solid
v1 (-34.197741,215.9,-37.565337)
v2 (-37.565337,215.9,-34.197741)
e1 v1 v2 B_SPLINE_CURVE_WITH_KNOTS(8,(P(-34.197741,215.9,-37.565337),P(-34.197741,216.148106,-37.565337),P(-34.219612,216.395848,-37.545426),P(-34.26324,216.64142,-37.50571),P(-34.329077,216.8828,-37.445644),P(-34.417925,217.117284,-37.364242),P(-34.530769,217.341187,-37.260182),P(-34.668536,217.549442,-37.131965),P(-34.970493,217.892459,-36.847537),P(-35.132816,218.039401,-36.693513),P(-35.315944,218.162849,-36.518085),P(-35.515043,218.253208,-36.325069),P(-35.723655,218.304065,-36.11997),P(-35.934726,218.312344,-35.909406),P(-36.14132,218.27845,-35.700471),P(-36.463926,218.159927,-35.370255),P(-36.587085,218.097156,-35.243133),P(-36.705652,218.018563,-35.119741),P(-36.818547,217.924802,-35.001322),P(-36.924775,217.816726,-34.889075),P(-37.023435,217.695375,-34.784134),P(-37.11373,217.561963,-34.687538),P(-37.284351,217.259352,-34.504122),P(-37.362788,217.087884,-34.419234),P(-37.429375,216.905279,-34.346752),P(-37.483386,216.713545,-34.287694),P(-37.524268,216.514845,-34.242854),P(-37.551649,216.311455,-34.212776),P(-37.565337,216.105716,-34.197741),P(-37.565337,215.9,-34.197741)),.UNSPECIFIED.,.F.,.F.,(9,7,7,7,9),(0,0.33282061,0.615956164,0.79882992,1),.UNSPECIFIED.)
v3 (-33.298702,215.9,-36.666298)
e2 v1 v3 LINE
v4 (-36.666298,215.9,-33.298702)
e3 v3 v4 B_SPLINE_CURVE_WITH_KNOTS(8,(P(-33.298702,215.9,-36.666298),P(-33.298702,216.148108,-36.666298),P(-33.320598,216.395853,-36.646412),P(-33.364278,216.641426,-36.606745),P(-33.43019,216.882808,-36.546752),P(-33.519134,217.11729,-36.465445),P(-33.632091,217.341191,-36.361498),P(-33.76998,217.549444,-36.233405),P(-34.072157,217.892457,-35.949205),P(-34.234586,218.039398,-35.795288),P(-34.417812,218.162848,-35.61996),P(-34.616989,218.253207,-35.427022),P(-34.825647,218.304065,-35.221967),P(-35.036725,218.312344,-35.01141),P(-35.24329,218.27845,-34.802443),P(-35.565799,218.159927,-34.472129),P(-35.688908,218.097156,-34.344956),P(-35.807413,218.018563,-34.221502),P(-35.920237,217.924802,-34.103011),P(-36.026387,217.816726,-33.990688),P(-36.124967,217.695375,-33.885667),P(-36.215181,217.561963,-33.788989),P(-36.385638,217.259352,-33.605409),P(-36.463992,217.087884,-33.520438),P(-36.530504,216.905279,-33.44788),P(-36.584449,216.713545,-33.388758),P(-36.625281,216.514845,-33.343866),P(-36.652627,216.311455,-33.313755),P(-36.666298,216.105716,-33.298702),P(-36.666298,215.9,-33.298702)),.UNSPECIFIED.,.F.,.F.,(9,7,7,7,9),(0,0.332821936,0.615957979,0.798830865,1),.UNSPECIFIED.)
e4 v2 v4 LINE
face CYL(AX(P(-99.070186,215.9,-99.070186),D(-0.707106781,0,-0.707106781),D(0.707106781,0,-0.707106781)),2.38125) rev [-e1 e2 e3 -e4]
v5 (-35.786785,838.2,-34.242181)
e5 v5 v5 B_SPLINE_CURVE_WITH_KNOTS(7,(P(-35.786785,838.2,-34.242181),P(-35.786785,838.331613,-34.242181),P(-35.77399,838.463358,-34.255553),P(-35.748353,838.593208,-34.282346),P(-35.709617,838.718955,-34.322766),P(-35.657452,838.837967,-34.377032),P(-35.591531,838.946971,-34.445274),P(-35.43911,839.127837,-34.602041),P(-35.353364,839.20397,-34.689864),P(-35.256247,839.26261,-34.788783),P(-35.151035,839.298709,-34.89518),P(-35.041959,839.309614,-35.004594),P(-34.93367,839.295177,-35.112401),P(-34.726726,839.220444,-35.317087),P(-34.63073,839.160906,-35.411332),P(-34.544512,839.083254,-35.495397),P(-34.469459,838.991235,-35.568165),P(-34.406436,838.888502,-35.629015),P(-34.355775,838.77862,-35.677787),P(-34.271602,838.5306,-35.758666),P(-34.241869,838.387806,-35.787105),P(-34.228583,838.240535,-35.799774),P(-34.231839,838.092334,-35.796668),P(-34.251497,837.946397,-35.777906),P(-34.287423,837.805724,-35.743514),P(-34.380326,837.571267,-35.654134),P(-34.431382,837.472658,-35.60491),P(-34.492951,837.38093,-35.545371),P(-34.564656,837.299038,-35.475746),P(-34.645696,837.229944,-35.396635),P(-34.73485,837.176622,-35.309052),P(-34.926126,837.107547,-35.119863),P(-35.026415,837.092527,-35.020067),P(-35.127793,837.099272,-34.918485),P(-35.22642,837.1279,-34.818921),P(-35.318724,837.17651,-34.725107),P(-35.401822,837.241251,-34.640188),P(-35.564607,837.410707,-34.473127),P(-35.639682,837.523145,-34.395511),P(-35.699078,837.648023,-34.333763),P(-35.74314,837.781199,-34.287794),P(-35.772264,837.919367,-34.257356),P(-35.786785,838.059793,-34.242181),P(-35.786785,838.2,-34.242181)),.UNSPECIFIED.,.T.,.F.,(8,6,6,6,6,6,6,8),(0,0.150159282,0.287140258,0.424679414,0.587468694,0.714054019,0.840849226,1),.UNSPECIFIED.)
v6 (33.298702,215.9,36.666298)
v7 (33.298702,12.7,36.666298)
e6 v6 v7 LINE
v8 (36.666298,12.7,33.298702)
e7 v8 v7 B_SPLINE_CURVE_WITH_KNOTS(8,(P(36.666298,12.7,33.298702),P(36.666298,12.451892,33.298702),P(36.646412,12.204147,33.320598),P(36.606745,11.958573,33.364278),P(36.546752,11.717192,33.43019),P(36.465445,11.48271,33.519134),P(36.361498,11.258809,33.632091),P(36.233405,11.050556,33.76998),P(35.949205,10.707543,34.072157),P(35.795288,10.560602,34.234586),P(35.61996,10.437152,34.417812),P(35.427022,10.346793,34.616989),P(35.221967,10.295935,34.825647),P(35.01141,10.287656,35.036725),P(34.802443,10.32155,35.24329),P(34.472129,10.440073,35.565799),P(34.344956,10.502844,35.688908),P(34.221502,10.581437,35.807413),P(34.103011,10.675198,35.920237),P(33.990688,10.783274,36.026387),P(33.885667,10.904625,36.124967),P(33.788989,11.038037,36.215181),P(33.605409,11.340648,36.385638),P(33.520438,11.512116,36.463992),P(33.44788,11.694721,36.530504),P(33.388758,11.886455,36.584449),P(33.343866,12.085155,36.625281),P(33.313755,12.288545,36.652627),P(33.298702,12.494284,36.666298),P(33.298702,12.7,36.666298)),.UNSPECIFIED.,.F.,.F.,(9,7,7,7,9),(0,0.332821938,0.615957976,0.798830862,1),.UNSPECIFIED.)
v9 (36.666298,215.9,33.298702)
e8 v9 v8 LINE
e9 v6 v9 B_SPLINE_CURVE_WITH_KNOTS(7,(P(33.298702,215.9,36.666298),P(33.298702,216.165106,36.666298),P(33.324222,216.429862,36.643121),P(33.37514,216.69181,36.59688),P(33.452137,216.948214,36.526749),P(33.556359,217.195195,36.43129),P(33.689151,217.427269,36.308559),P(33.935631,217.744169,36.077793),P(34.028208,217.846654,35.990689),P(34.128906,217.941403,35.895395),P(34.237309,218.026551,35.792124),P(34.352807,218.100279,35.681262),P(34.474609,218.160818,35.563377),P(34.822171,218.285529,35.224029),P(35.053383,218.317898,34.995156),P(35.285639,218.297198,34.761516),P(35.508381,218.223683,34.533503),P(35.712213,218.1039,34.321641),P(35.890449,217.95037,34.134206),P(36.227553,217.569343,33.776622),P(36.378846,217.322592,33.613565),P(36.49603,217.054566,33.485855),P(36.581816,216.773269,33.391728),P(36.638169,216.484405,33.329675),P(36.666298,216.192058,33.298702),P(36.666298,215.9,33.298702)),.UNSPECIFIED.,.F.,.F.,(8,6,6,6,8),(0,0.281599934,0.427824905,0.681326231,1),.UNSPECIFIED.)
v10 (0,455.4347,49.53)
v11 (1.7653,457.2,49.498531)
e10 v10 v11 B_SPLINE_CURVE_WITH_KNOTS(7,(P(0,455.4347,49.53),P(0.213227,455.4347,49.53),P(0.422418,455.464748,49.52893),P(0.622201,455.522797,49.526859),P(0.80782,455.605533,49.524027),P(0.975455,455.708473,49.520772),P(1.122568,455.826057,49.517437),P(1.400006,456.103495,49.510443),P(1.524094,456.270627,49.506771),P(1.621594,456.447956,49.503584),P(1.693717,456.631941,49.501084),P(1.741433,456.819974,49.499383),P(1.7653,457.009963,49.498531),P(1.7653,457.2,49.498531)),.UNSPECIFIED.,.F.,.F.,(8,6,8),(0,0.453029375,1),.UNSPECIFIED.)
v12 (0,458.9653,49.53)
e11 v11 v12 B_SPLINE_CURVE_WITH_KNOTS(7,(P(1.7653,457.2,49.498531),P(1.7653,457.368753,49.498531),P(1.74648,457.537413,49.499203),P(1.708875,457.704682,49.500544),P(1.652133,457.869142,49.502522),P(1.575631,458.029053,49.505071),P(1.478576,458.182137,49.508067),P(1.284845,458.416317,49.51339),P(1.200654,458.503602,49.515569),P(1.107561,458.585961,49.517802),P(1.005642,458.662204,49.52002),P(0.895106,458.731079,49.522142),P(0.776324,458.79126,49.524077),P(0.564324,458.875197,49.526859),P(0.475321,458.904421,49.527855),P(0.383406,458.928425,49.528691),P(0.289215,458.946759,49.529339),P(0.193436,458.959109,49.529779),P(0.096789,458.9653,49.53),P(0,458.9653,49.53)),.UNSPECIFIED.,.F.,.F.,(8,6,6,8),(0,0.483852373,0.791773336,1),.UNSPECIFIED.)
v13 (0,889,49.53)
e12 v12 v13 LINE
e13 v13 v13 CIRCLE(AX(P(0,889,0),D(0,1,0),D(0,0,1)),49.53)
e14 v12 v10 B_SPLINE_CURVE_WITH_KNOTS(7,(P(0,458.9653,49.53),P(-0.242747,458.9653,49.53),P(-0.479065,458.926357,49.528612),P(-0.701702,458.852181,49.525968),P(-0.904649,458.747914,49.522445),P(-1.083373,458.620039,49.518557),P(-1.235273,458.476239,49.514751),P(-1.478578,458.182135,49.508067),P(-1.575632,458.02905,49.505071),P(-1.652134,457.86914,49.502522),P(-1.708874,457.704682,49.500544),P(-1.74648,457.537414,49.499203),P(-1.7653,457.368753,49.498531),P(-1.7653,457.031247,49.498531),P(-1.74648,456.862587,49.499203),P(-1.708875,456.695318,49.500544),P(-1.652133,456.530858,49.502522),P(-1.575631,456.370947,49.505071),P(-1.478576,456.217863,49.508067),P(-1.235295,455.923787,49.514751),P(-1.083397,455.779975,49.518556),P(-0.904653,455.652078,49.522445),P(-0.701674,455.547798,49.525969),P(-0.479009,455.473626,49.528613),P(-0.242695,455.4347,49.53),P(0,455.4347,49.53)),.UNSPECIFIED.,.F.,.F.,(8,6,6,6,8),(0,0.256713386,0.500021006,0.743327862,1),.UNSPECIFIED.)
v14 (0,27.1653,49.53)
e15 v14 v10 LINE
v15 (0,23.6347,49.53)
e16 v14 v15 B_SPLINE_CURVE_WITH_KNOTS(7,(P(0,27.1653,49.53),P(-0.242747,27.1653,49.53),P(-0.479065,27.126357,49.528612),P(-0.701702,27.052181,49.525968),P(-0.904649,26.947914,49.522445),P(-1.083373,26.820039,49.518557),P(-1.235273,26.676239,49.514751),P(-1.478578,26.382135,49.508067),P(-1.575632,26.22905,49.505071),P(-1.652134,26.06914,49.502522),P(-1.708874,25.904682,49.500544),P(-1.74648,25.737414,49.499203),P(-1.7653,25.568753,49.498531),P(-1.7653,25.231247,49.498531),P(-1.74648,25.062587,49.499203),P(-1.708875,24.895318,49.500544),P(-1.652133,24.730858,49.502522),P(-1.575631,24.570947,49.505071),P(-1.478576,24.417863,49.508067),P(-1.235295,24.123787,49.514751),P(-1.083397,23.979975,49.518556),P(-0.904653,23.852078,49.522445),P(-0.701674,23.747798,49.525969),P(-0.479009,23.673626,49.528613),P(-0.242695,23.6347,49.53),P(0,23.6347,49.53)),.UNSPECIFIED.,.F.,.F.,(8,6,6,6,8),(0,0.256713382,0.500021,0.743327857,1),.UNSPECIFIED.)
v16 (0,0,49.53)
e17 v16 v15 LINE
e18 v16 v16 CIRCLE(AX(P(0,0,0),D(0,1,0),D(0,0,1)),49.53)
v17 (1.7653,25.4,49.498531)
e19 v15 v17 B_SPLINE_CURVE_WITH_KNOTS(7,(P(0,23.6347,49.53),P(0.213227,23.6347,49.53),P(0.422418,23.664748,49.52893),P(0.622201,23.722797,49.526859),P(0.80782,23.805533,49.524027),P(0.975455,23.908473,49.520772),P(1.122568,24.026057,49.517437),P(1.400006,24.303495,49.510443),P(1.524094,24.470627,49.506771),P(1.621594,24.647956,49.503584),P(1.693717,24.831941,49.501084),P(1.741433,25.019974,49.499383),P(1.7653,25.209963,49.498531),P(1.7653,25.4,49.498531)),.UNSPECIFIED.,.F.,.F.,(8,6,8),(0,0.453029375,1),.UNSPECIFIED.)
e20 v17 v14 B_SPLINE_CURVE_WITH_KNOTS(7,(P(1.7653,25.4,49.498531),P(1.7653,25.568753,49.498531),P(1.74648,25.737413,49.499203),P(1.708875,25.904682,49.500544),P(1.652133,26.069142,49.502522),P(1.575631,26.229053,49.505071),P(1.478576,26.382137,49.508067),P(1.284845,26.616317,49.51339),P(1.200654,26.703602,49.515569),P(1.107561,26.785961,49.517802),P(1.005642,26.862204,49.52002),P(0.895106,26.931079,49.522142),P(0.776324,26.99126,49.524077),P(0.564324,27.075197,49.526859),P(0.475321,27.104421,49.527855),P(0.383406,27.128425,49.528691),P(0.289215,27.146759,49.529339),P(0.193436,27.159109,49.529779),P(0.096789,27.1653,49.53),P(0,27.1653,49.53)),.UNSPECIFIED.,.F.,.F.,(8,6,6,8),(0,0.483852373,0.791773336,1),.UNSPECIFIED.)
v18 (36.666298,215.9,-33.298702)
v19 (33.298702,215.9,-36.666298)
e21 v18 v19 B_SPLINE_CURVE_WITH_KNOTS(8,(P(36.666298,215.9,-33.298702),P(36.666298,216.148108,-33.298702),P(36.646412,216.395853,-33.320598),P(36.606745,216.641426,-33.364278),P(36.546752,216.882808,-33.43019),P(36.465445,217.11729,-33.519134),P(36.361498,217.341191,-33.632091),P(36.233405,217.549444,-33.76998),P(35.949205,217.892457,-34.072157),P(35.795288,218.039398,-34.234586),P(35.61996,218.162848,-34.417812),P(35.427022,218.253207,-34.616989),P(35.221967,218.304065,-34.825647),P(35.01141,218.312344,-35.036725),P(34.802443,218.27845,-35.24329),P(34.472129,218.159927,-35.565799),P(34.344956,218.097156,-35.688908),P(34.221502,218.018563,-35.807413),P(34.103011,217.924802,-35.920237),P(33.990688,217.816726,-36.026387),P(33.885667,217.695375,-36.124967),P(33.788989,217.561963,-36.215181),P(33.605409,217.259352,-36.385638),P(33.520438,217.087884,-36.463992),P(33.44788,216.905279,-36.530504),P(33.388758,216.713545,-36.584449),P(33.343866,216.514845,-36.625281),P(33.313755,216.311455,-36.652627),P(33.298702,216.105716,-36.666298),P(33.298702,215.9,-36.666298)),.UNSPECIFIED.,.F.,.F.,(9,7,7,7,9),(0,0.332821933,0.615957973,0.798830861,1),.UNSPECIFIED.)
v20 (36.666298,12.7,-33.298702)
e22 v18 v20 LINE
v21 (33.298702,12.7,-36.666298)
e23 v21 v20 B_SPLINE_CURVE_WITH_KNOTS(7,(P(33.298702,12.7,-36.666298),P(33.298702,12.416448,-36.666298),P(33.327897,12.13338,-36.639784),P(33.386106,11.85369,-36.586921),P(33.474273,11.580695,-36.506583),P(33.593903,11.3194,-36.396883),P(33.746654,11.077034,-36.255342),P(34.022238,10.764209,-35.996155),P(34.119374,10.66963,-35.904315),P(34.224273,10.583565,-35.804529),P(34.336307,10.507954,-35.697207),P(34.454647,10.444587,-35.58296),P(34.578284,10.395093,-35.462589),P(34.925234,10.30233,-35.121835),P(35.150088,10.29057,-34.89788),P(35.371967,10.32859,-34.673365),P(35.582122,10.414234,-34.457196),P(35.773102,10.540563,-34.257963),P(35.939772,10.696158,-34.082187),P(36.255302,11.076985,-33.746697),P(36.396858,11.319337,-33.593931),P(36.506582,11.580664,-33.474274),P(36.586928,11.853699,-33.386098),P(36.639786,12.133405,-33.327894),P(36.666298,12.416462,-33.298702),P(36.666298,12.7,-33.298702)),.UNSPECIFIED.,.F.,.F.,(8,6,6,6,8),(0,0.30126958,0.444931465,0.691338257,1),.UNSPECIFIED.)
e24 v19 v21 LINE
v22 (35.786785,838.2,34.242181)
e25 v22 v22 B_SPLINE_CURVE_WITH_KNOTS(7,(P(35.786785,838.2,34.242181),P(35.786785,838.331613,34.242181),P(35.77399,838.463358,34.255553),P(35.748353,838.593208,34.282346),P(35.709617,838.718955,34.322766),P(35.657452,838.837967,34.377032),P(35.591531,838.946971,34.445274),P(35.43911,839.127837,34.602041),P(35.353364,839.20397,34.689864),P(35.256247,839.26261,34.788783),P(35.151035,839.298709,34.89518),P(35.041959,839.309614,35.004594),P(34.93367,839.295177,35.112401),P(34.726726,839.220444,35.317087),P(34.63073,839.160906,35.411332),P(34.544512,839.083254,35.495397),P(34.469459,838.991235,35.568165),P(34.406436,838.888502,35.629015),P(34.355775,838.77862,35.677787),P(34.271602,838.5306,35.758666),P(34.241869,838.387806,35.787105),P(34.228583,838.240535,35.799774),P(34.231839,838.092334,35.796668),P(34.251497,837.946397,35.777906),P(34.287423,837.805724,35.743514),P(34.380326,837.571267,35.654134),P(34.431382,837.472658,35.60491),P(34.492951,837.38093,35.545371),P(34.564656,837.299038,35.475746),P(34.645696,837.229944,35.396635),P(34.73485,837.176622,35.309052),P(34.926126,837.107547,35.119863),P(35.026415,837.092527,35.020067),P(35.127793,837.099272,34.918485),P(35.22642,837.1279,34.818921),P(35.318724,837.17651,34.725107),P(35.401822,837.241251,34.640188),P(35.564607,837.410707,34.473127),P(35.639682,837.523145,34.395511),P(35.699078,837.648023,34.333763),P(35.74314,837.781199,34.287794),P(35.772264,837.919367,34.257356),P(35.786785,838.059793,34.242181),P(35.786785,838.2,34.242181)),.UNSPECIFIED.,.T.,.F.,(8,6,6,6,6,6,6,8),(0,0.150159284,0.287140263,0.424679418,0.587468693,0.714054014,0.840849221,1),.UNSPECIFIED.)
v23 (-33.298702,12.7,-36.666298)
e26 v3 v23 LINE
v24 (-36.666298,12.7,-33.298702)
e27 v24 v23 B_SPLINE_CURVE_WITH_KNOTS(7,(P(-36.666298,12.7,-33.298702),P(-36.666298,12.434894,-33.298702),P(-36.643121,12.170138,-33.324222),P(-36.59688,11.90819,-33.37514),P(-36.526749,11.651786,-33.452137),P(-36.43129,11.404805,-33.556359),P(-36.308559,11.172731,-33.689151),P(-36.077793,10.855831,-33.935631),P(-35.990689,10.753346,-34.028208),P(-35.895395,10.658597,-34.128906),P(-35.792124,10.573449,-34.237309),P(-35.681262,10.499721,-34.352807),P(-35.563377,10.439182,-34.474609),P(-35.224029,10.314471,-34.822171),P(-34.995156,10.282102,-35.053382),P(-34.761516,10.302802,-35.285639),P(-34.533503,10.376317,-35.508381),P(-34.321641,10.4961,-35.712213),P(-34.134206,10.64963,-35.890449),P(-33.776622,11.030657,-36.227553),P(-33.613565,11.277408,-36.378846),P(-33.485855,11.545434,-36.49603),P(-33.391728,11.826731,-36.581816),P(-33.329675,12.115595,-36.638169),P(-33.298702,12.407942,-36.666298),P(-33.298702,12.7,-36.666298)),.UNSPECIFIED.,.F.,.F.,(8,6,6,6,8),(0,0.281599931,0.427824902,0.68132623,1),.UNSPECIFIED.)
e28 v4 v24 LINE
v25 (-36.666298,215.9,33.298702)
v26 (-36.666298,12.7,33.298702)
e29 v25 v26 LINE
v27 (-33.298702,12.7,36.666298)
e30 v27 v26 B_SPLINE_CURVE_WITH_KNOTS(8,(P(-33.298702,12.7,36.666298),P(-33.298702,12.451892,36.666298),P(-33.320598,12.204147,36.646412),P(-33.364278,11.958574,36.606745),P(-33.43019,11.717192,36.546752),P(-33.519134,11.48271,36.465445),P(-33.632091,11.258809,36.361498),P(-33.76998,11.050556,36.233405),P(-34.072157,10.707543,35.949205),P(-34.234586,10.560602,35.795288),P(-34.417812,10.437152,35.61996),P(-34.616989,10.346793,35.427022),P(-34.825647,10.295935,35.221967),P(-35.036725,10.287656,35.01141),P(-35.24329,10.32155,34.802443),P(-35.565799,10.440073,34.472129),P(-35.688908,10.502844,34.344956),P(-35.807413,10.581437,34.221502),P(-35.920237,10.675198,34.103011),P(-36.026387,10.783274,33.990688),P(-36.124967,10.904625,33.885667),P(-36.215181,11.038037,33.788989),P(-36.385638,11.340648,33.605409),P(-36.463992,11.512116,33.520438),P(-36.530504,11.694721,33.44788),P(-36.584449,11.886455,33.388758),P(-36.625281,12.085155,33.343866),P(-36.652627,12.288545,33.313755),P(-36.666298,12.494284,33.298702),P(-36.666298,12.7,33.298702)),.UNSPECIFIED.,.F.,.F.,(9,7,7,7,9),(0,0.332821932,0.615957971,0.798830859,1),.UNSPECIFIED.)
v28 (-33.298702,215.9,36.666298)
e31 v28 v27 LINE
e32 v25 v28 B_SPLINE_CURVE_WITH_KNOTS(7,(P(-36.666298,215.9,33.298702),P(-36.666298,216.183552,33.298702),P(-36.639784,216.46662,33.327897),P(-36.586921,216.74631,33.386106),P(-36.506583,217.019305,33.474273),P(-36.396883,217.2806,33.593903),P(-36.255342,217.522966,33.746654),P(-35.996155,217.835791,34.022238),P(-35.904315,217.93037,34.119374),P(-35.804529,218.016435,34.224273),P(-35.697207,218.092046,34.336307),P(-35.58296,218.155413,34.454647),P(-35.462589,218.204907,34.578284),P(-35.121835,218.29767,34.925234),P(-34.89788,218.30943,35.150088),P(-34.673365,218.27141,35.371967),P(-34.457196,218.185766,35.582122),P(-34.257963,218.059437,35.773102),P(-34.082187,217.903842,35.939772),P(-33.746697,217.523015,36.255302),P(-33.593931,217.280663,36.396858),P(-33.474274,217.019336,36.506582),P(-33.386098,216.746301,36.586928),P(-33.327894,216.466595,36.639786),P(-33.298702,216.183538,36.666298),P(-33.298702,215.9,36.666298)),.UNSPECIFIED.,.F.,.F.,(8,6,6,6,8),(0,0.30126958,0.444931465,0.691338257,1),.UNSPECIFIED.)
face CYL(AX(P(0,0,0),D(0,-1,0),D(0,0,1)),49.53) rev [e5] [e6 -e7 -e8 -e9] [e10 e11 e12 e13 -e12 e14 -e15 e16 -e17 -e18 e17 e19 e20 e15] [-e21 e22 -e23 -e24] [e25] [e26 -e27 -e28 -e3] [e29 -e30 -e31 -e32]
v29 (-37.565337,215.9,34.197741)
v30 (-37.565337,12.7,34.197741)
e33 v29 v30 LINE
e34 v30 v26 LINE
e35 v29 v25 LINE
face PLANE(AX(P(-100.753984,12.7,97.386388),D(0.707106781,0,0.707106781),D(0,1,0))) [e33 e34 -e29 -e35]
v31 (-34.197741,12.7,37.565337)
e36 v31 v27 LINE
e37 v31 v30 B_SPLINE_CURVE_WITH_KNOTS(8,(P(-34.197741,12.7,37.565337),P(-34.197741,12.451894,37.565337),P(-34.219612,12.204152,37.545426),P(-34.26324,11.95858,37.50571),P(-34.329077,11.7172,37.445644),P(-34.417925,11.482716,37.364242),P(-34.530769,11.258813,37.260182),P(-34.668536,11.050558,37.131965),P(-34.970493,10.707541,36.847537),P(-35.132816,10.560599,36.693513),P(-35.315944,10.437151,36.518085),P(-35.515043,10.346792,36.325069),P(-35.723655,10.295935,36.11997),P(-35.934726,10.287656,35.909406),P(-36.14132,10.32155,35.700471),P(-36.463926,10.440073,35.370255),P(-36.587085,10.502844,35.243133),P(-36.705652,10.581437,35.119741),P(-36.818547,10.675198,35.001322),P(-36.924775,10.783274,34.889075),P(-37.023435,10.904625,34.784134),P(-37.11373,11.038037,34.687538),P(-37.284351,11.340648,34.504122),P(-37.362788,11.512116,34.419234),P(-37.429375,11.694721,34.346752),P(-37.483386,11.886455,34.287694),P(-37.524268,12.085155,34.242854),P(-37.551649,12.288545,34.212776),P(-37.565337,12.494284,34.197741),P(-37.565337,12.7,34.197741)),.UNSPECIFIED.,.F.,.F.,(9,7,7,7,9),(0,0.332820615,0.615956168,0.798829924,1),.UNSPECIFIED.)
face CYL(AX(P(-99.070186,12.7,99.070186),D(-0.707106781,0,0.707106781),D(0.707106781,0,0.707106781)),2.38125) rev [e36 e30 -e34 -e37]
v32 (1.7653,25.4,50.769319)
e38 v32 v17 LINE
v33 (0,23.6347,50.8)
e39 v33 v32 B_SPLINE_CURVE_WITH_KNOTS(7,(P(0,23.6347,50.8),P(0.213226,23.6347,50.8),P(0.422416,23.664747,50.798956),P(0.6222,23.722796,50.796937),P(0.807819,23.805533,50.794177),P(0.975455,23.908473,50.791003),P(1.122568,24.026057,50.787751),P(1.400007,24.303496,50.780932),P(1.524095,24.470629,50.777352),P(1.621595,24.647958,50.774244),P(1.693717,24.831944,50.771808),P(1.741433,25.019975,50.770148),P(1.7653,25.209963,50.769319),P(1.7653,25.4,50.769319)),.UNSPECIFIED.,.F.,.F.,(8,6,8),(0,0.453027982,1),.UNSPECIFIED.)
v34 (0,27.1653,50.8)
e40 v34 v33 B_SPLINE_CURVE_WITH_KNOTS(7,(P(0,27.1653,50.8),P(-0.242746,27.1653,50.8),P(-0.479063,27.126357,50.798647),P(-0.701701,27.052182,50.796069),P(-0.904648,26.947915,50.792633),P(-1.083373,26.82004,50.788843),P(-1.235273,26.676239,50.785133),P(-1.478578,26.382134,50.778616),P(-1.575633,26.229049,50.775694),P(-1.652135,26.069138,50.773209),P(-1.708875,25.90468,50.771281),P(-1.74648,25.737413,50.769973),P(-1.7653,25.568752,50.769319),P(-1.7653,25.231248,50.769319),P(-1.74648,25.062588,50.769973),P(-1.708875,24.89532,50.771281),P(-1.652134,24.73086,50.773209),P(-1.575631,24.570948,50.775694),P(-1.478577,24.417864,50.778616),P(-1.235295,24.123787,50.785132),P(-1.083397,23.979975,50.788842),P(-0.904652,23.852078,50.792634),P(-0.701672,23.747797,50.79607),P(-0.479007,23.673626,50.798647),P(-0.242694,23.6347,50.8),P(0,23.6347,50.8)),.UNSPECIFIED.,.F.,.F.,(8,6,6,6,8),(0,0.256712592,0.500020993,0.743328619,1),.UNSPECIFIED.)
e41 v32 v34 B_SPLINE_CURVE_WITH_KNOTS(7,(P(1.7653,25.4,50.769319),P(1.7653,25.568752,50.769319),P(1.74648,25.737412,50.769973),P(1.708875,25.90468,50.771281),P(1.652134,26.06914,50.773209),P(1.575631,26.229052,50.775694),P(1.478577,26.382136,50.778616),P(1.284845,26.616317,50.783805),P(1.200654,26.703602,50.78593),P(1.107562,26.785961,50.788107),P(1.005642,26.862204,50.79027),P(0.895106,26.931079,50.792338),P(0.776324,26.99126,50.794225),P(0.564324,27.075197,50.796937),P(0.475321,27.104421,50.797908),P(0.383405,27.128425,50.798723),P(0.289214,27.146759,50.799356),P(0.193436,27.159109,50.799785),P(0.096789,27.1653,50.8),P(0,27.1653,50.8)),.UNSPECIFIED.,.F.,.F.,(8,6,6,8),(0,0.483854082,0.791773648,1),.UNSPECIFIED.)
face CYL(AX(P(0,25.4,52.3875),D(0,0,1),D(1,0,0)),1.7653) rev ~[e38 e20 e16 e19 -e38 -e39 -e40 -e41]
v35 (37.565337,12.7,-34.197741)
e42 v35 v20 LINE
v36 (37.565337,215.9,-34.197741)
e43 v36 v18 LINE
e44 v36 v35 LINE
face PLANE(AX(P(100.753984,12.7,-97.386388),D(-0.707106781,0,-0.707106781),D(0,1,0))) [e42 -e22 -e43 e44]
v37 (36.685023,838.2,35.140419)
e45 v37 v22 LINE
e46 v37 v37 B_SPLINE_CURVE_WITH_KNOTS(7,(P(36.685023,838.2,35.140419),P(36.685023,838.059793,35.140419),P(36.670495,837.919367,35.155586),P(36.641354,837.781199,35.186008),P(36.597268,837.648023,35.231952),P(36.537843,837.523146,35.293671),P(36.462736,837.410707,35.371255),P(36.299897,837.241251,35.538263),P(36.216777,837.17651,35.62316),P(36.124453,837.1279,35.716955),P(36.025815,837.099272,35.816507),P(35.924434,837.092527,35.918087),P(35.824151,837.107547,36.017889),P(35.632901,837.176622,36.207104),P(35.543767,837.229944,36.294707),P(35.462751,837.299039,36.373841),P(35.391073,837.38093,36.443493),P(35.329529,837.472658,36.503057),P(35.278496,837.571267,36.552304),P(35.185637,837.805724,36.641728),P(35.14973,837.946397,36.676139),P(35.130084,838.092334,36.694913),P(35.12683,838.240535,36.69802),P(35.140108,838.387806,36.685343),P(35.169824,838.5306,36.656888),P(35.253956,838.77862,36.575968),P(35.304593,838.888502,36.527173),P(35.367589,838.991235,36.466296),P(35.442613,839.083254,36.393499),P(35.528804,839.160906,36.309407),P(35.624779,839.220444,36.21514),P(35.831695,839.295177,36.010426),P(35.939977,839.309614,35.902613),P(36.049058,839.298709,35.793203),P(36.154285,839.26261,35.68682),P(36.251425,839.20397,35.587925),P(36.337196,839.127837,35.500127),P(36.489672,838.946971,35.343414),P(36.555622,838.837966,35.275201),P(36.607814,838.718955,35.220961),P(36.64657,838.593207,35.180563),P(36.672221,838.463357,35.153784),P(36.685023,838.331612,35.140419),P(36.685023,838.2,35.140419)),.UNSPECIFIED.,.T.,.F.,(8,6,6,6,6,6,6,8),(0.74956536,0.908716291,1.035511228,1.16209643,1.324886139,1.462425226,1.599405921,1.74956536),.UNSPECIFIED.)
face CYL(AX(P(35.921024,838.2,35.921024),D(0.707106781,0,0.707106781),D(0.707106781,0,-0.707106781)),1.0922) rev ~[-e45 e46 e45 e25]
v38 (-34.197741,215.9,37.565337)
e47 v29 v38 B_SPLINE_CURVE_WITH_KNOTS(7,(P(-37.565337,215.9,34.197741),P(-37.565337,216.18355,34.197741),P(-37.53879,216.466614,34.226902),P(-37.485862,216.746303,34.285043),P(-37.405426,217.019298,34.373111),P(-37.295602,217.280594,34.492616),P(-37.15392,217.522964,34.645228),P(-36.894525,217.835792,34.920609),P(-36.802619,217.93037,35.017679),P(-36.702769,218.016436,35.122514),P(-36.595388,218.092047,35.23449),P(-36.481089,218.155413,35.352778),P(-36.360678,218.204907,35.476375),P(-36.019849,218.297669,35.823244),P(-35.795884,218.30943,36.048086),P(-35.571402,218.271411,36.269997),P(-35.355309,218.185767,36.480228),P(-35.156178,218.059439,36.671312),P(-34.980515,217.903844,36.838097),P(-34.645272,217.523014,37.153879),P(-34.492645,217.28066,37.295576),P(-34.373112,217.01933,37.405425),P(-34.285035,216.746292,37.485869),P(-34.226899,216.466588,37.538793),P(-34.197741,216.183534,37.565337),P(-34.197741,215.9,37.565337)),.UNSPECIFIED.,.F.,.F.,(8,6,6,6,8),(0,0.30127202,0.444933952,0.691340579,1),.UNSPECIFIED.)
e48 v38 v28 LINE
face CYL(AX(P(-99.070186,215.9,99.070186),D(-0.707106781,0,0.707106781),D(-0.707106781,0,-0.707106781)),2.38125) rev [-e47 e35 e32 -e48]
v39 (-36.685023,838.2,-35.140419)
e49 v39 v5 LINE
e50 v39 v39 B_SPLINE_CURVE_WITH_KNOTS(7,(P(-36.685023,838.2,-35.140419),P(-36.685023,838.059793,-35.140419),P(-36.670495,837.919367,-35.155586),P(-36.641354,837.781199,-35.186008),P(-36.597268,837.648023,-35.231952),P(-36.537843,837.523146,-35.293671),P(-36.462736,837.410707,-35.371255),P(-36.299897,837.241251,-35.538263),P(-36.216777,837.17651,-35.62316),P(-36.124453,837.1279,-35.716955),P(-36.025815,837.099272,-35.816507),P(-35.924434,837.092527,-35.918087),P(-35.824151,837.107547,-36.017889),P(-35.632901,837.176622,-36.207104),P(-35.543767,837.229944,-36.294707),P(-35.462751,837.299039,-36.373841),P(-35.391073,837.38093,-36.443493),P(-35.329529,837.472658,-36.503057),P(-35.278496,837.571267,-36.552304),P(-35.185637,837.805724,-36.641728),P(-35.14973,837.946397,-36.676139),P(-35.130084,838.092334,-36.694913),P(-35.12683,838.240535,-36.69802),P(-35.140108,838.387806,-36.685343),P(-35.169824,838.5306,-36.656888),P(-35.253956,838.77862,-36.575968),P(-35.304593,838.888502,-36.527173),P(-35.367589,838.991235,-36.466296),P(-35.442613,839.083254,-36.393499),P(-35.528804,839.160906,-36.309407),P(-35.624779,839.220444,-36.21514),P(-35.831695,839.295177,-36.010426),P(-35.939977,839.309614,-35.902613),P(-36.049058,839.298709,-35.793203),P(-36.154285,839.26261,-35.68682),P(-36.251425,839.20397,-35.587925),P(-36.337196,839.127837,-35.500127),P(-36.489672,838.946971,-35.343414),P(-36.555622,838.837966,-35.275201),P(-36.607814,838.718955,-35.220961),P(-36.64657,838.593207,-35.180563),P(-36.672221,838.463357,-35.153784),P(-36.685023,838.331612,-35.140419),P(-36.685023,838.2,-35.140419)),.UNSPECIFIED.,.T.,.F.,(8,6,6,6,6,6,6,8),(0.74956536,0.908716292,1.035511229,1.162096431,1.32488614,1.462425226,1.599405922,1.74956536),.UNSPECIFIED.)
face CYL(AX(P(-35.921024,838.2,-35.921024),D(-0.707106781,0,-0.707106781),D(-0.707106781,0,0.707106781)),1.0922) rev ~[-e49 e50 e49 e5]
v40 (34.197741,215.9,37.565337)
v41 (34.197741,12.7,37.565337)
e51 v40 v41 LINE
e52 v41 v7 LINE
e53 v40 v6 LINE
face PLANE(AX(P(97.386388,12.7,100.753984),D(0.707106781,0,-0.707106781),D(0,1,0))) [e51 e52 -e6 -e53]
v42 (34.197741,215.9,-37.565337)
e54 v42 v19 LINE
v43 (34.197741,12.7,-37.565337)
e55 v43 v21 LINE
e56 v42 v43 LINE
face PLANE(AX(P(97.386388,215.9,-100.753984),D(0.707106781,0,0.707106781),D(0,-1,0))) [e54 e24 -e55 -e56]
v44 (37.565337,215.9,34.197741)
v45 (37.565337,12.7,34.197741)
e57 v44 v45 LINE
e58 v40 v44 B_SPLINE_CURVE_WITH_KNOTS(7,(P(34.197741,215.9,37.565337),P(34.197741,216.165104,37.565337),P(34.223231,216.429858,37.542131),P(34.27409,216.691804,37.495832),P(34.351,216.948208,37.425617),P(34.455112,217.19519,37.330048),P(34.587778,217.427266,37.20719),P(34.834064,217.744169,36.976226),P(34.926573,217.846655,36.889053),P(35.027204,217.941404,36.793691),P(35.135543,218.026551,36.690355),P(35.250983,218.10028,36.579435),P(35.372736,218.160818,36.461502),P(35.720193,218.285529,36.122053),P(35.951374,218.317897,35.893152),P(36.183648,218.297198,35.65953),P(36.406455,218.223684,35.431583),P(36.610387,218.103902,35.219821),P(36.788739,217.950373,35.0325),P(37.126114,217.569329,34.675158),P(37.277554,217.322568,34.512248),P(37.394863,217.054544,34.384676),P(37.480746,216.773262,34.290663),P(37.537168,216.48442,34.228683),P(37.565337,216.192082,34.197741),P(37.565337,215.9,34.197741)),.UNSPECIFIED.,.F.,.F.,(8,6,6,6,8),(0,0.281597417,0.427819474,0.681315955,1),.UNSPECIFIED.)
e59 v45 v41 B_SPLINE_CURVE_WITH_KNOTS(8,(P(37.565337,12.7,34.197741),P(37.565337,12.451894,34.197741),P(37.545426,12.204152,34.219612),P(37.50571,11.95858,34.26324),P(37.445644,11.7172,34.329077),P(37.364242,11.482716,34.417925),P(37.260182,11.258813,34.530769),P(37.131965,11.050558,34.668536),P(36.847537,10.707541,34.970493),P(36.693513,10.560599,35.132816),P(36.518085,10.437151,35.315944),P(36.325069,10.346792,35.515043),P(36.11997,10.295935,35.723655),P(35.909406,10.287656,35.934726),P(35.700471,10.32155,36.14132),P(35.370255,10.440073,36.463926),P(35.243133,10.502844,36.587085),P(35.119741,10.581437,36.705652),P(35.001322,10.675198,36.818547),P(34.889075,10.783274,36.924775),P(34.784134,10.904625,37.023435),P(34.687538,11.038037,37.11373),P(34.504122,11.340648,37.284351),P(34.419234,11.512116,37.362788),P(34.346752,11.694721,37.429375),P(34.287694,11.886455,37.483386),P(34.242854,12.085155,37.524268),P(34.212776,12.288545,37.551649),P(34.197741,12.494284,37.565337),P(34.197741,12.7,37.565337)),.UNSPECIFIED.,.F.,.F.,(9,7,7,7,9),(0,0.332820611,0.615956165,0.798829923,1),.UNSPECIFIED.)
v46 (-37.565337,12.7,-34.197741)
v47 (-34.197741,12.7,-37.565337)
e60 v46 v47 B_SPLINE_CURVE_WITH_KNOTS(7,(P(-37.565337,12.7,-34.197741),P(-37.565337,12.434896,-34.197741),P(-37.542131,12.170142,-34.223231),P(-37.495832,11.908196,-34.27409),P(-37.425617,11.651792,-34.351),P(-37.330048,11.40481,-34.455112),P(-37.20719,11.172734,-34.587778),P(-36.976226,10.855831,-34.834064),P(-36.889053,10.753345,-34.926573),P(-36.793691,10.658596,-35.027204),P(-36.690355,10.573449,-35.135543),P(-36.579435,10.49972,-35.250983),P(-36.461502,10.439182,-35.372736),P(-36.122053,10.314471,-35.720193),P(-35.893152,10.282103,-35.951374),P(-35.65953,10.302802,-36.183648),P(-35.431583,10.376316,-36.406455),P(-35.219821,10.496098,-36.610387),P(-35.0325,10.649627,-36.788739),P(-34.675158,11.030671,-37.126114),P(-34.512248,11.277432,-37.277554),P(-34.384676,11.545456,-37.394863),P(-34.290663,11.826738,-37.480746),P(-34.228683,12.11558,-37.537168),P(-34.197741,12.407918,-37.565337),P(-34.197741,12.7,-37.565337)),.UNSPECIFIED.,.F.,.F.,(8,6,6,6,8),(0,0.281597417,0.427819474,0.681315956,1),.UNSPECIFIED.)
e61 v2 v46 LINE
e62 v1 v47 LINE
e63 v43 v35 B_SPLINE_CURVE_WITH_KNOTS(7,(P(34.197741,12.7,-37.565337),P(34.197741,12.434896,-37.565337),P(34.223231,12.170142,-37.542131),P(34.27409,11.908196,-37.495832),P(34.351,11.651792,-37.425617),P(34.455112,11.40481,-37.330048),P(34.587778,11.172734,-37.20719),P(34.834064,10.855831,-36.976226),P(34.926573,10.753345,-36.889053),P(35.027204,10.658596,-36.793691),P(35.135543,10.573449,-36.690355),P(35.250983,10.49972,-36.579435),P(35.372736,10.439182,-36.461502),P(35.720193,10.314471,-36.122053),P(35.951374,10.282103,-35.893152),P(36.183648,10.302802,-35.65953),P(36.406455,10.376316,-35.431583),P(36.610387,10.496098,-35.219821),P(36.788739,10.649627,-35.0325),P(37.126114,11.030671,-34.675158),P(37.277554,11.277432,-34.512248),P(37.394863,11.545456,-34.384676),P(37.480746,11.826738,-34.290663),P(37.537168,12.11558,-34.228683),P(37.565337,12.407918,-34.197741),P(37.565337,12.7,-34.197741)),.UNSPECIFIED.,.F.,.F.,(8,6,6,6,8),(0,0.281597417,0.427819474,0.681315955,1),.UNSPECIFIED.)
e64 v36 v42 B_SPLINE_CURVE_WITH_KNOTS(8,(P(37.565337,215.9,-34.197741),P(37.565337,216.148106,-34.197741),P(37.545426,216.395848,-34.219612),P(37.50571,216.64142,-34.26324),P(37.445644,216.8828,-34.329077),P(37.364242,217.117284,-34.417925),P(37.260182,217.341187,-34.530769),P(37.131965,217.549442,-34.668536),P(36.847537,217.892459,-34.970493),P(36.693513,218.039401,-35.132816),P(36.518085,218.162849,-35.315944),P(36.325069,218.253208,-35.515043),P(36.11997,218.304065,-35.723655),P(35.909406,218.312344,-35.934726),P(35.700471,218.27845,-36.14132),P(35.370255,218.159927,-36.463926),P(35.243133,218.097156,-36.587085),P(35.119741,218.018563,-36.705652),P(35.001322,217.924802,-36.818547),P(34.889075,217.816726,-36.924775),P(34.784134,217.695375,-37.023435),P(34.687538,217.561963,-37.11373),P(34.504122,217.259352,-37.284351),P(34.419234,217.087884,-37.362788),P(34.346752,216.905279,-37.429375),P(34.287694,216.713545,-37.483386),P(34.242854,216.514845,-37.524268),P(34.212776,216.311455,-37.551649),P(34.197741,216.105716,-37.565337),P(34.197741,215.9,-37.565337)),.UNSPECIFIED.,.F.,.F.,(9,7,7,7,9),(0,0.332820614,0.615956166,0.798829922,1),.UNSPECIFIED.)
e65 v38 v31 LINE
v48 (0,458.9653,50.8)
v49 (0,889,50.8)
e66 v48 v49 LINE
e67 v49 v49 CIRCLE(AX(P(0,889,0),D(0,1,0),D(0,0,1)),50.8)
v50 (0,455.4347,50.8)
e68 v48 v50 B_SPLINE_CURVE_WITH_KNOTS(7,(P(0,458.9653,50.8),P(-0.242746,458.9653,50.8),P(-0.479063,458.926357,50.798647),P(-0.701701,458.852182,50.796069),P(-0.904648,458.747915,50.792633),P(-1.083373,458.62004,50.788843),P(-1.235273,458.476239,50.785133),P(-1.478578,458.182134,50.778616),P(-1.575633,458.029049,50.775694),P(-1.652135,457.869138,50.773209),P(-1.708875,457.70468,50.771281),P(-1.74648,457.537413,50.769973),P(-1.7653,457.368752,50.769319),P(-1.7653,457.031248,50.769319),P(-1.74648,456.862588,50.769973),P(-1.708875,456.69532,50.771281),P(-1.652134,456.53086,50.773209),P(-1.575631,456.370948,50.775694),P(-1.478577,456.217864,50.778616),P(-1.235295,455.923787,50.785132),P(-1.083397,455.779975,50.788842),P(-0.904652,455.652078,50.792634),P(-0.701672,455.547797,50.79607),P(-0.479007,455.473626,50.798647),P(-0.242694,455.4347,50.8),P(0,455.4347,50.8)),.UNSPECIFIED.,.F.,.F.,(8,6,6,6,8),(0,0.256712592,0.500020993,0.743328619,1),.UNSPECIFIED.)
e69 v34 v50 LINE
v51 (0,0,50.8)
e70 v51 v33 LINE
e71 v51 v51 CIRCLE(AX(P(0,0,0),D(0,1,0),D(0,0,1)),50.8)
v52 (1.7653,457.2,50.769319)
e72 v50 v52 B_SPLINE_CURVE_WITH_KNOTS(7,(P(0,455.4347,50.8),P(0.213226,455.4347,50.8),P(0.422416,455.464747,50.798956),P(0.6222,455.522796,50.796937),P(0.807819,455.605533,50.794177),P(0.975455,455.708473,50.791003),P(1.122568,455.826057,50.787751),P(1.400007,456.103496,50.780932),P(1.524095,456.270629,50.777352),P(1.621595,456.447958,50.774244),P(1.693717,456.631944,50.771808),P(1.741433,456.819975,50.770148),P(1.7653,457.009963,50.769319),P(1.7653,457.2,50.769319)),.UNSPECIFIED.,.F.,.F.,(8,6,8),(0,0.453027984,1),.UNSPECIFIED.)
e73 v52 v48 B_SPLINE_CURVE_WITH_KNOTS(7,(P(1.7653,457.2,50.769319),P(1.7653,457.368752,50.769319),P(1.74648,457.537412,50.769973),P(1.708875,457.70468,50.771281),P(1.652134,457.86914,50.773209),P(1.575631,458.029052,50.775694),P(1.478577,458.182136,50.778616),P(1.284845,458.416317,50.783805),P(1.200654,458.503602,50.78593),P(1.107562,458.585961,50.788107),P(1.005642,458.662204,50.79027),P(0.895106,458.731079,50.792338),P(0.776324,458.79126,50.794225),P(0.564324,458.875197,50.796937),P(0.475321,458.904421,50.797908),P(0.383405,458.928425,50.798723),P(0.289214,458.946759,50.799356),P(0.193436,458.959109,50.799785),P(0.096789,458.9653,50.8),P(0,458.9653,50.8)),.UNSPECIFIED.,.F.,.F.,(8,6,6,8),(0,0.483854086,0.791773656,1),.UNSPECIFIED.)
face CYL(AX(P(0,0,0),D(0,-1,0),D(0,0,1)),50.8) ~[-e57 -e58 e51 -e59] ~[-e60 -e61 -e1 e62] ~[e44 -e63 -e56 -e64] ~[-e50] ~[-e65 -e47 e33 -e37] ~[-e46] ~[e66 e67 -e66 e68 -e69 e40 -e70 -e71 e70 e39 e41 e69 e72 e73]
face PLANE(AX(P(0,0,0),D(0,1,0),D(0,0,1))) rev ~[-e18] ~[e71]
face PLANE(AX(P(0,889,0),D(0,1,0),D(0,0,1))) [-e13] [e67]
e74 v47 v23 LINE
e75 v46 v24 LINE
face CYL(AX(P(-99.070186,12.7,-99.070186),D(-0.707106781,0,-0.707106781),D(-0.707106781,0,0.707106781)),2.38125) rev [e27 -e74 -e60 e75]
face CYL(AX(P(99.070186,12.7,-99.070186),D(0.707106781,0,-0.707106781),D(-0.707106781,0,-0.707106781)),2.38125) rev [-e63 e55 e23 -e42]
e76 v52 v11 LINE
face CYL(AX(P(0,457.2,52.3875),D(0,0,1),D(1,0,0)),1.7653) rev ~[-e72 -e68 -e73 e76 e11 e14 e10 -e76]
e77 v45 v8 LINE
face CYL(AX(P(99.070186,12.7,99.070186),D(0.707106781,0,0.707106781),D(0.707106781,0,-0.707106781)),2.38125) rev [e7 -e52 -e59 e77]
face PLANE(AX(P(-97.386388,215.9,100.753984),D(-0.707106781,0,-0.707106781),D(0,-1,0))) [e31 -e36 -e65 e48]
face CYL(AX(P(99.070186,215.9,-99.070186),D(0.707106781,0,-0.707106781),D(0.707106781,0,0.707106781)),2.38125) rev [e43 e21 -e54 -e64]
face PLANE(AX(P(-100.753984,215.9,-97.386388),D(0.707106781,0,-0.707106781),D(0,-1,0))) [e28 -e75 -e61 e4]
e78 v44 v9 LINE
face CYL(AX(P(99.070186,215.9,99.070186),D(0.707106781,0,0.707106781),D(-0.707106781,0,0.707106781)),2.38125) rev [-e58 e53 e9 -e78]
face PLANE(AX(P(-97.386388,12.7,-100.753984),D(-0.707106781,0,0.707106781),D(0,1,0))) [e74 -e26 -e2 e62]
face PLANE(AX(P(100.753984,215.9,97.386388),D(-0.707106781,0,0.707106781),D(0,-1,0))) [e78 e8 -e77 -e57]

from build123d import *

# Parameters (mm, degrees)
SKETCH1_R           = 50.8
SKETCH1_R_2         = 49.53
BOSS_EXTRUDE1_DEPTH = 889
CUT_EXTRUDE1_DEPTH  = 152.4
CIRPATTERN1_COUNT   = 4
SKETCH3_R           = 1.7653
CUT_EXTRUDE2_DEPTH  = 11.684
SKETCH4_R           = 1.0922
CUT_EXTRUDE3_DEPTH  = 25.4
CIRPATTERN2_COUNT   = 2


with BuildPart() as part:
    # Sketch1 → Boss-Extrude1 (new body)
    with BuildSketch(Plane(origin=(0, 0, 0), x_dir=(1, 0, 0), z_dir=(0, 1, 0))):
        with Locations(Location((0, 0, 0), (0, 0, 270))):
            Circle(SKETCH1_R)
        with Locations(Location((0, 0, 0), (0, 0, 270))):
            Circle(SKETCH1_R_2, mode=Mode.SUBTRACT)
    extrude(amount=BOSS_EXTRUDE1_DEPTH)

    # Sketch2 → Cut-Extrude1 (cut)
    with BuildSketch(Plane(origin=(10.001989034, 1243.355570529, -188.138382022), x_dir=(0, 1, 0), z_dir=(0.7071067811865634, 0, -0.7071067811865316))):
        with BuildLine():
            Line((-1230.655570529, 128.342701458), (-1027.455570529, 128.342701458))
            ThreePointArc((-1027.455570529, 128.342701458), (-1025.074320529, 125.961451458), (-1027.455570529, 123.580201458))
            Line((-1027.455570529, 123.580201458), (-1230.655570529, 123.580201458))
            ThreePointArc((-1230.655570529, 123.580201458), (-1233.036820529, 125.961451458), (-1230.655570529, 128.342701458))
        make_face()
    cut_extrude1 = extrude(amount=-CUT_EXTRUDE1_DEPTH, mode=Mode.SUBTRACT)

    # CirPattern1: Cut-Extrude1 ×4 about axis
    cirpattern1_axis = Axis((0, 0, 0), (0, 1, 0))
    for i in range(1, CIRPATTERN1_COUNT):
        add(cut_extrude1.rotate(cirpattern1_axis, i * 360 / CIRPATTERN1_COUNT), mode=Mode.SUBTRACT)

    # Sketch3 → Cut-Extrude2 (cut)
    with BuildSketch(Plane(origin=(271.091614788, 1243.355570529, 52.3875), x_dir=(-1, 0, 0), z_dir=(0, 0, 1))):
        with Locations(Location((271.091614788, 1217.955570529, 0), (0, 0, 180))):
            Circle(SKETCH3_R)
        with Locations(Location((271.091614788, 786.155570529, 0), (0, 0, 180))):
            Circle(SKETCH3_R)
    extrude(amount=-CUT_EXTRUDE2_DEPTH, mode=Mode.SUBTRACT)

    # Sketch4 → Cut-Extrude3 (cut)
    with BuildSketch(Plane(origin=(120.58027232, 708.404628356, -48.738223352), x_dir=(-0.7071067811865634, 2.660214291711019e-15, 0.7071067811865317), z_dir=(0.7071067811865317, -1.2152886494782433e-14, 0.7071067811865634))):
        with Locations(Location((119.72625647, -129.795371644, 0), (0, 0, 180))):
            Circle(SKETCH4_R)
    cut_extrude3 = extrude(amount=-CUT_EXTRUDE3_DEPTH, mode=Mode.SUBTRACT)

    # CirPattern2: Cut-Extrude3 ×2 about axis
    cirpattern2_axis = Axis((0, 889, 0), (0, -1, 0))
    for i in range(1, CIRPATTERN2_COUNT):
        add(cut_extrude3.rotate(cirpattern2_axis, i * 360 / CIRPATTERN2_COUNT), mode=Mode.SUBTRACT)


solid = part.part
